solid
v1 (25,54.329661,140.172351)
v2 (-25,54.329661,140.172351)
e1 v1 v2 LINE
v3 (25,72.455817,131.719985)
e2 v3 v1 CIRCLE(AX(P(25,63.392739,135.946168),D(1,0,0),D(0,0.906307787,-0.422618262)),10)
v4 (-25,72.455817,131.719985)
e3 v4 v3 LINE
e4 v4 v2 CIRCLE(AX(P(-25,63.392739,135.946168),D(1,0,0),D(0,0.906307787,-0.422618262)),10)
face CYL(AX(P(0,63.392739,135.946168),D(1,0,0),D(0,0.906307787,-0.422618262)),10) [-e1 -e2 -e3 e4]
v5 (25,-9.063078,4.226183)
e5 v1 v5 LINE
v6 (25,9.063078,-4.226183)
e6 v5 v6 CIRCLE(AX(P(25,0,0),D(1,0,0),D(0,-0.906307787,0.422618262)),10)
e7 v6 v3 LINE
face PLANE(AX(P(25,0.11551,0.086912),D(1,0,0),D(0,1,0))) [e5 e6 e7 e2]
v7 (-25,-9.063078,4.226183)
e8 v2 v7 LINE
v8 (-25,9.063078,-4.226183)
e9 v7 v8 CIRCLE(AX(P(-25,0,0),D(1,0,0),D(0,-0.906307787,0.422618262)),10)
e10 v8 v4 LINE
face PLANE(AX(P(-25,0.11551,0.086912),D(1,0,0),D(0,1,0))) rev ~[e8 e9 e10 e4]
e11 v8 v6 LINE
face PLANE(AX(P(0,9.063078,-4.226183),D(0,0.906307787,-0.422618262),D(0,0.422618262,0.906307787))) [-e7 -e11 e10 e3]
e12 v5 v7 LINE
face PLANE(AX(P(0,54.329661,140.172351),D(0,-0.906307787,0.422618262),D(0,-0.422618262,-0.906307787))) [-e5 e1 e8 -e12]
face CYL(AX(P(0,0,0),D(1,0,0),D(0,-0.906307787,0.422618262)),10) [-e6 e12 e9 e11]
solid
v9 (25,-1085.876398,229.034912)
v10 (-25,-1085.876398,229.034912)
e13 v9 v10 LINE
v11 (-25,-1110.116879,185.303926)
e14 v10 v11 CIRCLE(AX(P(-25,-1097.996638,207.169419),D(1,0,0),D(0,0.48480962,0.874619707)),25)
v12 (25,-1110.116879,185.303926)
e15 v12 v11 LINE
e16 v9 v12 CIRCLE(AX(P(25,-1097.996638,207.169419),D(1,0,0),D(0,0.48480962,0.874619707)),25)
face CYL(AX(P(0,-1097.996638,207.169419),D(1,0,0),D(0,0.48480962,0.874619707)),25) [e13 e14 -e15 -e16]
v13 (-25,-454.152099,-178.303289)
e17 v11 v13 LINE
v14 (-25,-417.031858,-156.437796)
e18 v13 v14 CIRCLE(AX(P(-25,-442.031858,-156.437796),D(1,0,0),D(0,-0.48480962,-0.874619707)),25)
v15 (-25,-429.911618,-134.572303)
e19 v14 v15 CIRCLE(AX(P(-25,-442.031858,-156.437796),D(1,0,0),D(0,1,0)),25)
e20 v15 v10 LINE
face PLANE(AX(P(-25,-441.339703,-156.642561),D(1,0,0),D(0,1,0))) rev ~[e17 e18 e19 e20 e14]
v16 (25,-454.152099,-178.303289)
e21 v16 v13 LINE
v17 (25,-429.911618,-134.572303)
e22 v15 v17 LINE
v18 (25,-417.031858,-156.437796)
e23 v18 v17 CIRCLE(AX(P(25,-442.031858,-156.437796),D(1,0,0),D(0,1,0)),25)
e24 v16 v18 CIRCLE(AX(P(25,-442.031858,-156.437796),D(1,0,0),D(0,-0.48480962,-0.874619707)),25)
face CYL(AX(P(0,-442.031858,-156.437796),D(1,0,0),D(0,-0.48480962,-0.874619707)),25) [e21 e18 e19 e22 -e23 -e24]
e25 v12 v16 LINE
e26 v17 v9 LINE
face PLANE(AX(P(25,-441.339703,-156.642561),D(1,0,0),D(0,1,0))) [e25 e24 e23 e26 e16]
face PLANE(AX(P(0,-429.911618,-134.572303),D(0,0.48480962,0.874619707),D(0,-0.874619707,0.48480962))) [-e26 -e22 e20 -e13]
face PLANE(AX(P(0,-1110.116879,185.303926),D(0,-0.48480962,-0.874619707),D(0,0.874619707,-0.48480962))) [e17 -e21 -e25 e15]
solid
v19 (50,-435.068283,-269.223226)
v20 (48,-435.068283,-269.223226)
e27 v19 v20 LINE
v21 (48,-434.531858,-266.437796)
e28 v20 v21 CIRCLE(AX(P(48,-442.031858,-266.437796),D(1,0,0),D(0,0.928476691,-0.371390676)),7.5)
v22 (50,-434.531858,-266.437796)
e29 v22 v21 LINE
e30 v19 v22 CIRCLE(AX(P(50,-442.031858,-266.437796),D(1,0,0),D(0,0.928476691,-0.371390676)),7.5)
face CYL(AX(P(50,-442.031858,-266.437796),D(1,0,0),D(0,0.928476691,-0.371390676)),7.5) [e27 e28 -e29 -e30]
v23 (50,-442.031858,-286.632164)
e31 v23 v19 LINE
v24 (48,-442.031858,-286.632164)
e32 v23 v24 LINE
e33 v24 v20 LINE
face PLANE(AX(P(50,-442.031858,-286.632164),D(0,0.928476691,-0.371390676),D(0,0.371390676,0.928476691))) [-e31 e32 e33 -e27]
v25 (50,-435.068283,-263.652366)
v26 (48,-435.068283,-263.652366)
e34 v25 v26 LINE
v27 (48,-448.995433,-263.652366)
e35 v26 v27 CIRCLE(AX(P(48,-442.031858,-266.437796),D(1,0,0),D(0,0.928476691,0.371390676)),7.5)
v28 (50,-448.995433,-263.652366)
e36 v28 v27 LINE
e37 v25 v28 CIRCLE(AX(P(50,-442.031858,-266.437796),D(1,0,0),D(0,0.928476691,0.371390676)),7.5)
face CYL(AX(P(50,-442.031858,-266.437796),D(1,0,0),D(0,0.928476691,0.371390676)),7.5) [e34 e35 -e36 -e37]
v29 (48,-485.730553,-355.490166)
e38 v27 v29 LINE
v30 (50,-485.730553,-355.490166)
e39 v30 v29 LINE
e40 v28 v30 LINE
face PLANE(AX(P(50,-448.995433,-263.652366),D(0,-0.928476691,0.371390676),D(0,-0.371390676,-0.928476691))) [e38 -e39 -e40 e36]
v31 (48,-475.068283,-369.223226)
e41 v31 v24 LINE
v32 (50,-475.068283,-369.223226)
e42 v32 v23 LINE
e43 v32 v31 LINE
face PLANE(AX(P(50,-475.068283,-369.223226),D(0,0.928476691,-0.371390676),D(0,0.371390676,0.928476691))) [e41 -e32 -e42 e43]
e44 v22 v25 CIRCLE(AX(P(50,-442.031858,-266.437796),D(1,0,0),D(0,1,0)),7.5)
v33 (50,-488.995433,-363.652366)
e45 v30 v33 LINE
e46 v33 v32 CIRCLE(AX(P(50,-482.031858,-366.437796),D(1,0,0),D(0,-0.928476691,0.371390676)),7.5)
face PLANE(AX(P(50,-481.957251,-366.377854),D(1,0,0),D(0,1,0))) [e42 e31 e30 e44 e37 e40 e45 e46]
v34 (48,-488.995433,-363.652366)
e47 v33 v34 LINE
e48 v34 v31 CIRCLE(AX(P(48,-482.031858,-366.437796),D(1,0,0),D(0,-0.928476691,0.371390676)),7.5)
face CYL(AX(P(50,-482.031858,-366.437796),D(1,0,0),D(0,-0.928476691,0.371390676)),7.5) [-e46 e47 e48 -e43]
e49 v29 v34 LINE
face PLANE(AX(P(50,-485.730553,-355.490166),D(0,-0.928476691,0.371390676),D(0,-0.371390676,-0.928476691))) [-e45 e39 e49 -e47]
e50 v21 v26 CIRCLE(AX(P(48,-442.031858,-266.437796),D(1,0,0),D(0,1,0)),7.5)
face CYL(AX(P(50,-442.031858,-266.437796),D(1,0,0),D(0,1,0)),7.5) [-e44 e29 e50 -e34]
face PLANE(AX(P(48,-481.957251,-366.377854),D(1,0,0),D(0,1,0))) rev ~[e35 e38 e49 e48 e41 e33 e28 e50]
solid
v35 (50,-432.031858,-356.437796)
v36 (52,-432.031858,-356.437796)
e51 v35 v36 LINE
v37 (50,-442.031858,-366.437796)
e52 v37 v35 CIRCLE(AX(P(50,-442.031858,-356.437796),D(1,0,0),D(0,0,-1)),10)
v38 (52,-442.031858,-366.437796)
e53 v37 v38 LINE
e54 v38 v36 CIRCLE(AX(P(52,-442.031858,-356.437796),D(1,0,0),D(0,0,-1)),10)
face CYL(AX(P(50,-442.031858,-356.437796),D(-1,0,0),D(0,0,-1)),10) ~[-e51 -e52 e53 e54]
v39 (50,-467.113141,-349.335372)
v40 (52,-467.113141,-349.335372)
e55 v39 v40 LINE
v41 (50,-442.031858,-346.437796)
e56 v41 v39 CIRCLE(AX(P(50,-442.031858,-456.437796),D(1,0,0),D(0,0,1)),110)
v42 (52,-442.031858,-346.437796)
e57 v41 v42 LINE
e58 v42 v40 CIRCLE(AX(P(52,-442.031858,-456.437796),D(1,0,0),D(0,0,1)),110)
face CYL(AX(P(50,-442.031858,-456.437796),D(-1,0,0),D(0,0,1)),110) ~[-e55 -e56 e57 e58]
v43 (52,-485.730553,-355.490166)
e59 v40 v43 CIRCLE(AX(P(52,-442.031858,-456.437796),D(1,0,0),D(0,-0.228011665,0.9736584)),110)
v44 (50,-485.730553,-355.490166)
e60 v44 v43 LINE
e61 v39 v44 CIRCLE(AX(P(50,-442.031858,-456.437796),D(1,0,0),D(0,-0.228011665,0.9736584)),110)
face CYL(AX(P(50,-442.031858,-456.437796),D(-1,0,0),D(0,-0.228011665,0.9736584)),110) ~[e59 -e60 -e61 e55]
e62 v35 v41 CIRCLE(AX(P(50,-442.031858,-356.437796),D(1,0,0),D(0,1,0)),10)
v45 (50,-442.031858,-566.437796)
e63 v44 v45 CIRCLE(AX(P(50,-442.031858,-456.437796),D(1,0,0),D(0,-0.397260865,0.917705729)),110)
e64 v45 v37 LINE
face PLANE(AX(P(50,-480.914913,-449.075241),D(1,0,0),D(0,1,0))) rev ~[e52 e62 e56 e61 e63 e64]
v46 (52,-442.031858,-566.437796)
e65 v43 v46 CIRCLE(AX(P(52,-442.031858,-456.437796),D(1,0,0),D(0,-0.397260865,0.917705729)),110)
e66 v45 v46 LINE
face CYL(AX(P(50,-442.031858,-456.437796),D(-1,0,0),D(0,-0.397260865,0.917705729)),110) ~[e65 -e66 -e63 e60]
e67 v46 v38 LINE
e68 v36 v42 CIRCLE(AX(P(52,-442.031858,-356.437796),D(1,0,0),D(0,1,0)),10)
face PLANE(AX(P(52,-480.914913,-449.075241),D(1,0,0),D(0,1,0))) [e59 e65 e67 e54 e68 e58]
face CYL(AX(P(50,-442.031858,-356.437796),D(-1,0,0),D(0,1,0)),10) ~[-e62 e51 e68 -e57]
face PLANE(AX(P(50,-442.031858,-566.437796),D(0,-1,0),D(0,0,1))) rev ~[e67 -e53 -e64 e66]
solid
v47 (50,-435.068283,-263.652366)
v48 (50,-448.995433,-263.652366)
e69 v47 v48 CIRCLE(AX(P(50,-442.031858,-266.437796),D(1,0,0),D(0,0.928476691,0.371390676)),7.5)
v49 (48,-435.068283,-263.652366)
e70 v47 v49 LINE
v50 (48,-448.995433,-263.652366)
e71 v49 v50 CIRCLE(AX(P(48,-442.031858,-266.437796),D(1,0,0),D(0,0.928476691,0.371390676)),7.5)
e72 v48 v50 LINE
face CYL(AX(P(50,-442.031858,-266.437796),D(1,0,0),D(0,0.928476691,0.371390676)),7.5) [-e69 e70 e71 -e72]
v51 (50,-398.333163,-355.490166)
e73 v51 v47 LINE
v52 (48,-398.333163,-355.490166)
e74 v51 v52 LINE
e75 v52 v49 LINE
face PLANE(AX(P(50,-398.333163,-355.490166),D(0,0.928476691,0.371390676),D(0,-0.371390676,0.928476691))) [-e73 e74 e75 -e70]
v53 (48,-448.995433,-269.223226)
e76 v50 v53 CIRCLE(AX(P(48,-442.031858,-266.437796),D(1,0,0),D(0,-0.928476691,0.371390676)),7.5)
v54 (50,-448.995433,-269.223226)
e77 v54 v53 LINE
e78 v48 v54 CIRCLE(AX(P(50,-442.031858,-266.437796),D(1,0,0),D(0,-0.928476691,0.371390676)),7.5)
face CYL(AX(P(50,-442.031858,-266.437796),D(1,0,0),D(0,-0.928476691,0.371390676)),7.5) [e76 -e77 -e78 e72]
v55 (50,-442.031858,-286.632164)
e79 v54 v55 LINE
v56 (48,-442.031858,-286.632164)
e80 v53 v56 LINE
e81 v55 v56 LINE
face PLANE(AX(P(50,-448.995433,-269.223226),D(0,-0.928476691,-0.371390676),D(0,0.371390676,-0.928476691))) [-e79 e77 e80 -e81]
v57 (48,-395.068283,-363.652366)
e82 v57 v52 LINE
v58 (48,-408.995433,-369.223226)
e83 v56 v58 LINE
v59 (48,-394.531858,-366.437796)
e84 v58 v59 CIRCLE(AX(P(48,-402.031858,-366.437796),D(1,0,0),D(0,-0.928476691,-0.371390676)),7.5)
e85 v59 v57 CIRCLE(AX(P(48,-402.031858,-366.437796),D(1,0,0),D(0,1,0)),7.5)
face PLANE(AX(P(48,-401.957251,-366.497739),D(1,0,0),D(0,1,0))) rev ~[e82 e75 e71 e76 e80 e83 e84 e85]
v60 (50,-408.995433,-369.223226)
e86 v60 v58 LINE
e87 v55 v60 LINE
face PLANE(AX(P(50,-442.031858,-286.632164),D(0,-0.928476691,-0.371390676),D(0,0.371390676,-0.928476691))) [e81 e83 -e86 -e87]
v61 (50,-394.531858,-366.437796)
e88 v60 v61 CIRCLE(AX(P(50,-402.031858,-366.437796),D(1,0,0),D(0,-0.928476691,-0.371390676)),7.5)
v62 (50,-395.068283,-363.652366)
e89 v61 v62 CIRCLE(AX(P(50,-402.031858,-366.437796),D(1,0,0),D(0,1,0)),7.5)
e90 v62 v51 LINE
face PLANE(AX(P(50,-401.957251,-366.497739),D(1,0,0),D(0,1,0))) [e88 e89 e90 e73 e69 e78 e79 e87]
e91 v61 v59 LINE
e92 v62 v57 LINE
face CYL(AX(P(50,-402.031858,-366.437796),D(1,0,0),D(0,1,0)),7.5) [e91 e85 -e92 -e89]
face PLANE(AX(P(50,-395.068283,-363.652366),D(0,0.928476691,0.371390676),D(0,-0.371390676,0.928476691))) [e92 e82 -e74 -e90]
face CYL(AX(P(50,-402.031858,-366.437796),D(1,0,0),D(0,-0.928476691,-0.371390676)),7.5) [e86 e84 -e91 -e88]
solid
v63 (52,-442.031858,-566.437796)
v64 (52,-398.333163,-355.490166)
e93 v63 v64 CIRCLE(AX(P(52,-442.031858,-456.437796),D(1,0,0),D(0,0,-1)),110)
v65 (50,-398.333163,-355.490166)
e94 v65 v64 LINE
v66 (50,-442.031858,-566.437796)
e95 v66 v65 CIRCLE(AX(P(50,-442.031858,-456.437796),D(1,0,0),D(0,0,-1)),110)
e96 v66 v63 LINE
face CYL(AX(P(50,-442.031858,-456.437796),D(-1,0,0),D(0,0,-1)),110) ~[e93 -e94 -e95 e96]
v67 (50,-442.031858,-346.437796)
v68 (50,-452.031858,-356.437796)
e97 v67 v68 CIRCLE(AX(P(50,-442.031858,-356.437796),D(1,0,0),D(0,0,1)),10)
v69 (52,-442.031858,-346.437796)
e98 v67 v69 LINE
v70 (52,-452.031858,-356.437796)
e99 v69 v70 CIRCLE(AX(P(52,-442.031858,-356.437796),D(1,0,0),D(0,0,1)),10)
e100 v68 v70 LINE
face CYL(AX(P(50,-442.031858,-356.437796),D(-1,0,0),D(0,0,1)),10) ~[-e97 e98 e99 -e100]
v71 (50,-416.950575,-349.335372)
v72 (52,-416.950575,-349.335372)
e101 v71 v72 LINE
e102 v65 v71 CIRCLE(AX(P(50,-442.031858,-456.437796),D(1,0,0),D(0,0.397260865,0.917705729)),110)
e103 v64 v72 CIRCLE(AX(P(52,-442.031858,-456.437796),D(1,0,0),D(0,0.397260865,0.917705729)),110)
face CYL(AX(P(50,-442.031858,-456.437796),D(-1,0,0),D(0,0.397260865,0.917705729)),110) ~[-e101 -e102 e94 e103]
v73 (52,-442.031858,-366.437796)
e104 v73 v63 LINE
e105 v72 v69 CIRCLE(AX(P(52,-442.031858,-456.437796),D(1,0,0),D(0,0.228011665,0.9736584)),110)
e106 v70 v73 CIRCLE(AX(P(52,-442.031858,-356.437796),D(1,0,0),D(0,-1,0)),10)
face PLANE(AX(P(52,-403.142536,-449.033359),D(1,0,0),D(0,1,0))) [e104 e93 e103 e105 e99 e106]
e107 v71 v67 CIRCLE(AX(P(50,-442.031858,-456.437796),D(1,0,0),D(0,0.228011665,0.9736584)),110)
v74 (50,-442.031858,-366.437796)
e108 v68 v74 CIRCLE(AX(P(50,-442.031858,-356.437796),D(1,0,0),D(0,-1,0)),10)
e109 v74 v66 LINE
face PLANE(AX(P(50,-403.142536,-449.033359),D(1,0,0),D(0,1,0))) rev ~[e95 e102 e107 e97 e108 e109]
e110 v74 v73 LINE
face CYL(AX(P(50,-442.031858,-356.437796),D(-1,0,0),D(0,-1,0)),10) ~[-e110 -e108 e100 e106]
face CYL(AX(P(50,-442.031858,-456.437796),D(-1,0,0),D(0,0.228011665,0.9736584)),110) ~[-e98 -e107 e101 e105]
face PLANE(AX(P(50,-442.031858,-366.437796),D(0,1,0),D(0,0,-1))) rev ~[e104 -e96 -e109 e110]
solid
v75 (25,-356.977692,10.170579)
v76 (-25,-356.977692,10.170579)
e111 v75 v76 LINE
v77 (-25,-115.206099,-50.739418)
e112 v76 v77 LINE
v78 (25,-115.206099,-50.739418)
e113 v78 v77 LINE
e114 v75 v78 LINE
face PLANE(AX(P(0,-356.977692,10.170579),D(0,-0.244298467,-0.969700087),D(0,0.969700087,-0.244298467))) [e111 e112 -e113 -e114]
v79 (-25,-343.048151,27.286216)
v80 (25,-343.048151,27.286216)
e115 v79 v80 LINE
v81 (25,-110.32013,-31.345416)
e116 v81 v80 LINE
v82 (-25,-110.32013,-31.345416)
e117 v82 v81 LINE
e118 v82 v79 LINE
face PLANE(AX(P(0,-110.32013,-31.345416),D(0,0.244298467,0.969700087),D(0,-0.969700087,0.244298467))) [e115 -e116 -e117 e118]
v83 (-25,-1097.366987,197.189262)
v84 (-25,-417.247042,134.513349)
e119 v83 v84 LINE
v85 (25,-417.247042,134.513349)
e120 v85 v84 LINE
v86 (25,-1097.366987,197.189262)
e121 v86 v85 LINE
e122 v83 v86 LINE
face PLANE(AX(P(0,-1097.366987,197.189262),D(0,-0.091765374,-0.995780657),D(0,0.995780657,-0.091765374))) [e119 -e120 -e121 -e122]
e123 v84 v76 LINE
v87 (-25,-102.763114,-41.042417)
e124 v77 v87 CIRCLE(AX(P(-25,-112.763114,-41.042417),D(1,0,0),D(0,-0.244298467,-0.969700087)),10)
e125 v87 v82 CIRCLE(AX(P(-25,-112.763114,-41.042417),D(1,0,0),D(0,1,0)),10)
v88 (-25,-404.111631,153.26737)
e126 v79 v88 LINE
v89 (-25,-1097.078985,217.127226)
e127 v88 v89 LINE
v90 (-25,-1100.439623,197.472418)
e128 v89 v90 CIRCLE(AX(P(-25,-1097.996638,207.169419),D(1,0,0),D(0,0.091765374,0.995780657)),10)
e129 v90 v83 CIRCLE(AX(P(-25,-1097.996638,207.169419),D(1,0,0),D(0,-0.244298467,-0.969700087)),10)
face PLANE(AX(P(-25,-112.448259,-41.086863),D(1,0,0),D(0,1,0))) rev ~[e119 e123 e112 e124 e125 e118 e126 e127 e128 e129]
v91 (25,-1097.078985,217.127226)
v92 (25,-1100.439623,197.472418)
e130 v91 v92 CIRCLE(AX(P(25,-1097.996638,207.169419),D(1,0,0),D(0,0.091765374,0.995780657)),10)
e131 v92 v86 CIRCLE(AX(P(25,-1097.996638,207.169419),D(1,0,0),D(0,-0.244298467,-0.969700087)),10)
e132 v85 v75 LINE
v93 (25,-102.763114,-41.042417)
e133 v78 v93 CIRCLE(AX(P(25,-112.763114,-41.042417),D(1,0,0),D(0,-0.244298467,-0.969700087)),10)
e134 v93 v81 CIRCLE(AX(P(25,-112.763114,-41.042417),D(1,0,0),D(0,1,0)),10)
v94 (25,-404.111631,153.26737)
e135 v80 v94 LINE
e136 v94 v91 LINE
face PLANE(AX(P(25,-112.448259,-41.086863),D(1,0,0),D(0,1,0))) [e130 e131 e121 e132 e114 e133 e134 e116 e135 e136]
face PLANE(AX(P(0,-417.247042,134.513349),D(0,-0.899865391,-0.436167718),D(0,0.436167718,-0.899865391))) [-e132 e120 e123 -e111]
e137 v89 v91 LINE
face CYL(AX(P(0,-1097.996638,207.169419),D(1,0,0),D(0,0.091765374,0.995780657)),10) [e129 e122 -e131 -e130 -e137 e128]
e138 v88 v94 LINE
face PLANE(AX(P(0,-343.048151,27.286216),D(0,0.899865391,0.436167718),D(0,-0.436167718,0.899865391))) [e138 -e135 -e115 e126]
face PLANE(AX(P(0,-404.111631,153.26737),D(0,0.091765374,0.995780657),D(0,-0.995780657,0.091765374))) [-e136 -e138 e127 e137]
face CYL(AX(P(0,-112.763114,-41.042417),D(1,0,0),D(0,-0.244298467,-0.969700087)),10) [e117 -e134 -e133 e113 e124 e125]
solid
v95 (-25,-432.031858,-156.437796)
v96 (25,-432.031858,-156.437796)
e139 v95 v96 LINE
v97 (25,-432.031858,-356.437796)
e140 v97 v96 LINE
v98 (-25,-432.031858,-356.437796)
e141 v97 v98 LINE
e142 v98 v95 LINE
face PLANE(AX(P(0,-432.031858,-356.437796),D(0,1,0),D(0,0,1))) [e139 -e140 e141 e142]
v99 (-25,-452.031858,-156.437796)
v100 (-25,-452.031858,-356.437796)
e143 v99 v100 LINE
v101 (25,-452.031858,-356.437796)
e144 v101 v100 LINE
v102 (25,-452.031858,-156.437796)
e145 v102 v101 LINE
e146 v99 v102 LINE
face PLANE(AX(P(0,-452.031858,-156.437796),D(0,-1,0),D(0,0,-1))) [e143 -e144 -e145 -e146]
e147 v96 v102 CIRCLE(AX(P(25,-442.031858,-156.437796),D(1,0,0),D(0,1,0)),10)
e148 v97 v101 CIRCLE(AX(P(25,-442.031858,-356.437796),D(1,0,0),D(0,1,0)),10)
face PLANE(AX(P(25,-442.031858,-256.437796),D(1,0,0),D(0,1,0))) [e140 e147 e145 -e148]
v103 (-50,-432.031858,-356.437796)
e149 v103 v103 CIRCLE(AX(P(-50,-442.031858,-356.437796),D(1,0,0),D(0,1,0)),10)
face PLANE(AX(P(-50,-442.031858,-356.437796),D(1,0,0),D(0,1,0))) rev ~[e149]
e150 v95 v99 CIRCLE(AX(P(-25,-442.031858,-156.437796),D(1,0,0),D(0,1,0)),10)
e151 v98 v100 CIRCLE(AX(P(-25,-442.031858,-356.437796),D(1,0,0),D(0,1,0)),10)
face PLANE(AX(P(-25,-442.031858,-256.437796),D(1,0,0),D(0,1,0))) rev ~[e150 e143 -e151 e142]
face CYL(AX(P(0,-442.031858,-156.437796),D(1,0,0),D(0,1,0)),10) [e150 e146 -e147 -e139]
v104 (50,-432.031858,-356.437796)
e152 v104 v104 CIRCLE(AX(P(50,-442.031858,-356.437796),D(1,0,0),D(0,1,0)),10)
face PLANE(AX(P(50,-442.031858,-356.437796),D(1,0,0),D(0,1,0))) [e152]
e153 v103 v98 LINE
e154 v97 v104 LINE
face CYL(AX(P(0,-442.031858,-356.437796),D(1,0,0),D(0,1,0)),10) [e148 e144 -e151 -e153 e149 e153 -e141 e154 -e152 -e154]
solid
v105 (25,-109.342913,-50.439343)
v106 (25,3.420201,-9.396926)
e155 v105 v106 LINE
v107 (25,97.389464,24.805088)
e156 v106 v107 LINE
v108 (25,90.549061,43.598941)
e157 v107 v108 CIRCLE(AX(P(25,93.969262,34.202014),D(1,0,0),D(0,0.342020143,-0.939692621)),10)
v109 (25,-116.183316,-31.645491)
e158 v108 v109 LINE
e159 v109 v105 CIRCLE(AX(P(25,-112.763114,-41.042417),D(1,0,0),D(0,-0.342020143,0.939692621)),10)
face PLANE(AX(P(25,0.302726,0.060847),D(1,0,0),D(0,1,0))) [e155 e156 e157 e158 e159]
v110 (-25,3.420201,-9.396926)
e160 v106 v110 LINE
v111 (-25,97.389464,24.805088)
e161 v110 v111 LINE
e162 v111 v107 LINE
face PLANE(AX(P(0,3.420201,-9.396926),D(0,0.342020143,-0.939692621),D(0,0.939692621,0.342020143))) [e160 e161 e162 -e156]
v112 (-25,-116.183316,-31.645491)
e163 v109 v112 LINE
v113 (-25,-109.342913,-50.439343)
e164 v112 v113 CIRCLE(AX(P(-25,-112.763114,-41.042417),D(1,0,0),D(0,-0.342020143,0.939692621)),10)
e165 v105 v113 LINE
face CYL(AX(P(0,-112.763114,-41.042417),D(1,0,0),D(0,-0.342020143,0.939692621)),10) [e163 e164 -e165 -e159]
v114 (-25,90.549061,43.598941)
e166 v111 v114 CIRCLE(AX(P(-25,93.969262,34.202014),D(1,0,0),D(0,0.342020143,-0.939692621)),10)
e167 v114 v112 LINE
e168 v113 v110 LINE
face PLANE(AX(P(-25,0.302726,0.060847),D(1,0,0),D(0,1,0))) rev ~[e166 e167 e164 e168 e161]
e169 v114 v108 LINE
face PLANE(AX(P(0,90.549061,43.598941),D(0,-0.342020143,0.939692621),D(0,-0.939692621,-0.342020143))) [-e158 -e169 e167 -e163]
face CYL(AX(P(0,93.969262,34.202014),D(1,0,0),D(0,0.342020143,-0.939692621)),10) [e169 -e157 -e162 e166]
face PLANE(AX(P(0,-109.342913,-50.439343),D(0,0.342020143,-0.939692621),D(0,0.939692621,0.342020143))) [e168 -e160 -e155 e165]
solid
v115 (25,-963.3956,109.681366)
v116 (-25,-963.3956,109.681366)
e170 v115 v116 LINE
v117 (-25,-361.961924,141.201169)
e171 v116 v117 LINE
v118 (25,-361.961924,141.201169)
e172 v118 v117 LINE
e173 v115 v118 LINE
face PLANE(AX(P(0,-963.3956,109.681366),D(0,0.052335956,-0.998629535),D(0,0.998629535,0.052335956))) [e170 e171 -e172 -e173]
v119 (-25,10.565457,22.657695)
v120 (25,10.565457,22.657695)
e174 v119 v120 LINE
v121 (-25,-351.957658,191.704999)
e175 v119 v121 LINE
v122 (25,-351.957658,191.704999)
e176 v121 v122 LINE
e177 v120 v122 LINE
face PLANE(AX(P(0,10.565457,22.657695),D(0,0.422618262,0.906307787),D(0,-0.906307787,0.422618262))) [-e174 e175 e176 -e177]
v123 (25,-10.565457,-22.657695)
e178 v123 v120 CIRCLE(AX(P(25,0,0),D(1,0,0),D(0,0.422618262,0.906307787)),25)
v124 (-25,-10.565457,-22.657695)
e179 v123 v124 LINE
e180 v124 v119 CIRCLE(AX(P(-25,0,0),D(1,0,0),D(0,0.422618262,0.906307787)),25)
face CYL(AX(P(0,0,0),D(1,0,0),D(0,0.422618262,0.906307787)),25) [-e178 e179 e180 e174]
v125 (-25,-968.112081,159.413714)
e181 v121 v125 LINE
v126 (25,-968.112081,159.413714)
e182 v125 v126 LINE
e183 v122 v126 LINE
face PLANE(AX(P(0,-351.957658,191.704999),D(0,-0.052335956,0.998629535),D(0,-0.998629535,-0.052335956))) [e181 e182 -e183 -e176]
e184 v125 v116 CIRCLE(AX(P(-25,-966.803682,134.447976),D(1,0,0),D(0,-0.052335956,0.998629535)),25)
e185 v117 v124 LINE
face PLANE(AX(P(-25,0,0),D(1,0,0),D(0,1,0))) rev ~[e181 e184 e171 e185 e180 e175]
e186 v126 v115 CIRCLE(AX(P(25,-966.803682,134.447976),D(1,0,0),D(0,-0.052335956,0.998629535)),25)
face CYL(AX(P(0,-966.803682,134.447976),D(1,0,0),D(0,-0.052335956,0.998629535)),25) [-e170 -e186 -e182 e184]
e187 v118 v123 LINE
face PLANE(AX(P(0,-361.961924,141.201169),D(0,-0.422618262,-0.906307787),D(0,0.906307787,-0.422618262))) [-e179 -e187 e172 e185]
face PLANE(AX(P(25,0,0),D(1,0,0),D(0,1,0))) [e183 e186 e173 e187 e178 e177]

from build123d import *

# Parameters (mm, degrees)
F4_DEPTH  = 25
F5_DEPTH  = 25
F6_DEPTH  = 25
F7_DEPTH  = 25
F9_DEPTH  = 25
F11_DEPTH = 25
F12_DEPTH = 50
F14_DEPTH = 2
F15_DEPTH = 2
F16_DEPTH = 2
F17_DEPTH = 2


with BuildPart() as f4:
    # F0 (on Right) → F4 (new body, symmetric)
    with BuildSketch(Plane.YZ):
        with BuildLine():
            ThreePointArc((-10.5654565435, -22.6576946759), (13.4324902087, -21.0847861453), (25, 0))
            ThreePointArc((25, 0), (21.0847861453, 13.4324902087), (10.5654565435, 22.6576946759))
            ThreePointArc((10.5654565435, 22.6576946759), (-22.6576946759, 10.5654565435), (-10.5654565435, -22.6576946759))
        make_face()
        with BuildLine():
            ThreePointArc((-10.5654565435, -22.6576946759), (-22.6576946759, 10.5654565435), (10.5654565435, 22.6576946759))
            Line((10.5654565435, 22.6576946759), (-351.9576582711, 191.7049993722))
            Line((-351.9576582711, 191.7049993722), (-361.9619242348, 141.2011692572))
            Line((-361.9619242348, 141.2011692572), (-10.5654565435, -22.6576946759))
        make_face()
        with BuildLine():
            Line((-361.9619242348, 141.2011692572), (-351.9576582711, 191.7049993722))
            Line((-351.9576582711, 191.7049993722), (-968.1120812147, 159.4137143703))
            ThreePointArc((-968.1120812147, 159.4137143703), (-991.6920086499, 132.0876345158), (-963.3955999376, 109.6813659275))
            Line((-963.3955999376, 109.6813659275), (-361.9619242348, 141.2011692572))
        make_face()
    extrude(amount=F4_DEPTH, both=True)


with BuildPart() as f5:
    # F1 (on Right) → F5 (new body, symmetric)
    with BuildSketch(Plane.YZ):
        with BuildLine():
            ThreePointArc((-454.1520985312, -178.3032888249), (-429.343398951, -177.9785251574), (-417.031858025, -156.4377961464))
            ThreePointArc((-417.031858025, -156.4377961464), (-420.491129014, -143.7493370723), (-429.9116175188, -134.5723034679))
            ThreePointArc((-429.9116175188, -134.5723034679), (-463.8973507035, -144.3175556402), (-454.1520985312, -178.3032888249))
        make_face()
        with BuildLine():
            ThreePointArc((-454.1520985312, -178.3032888249), (-463.8973507035, -144.3175556402), (-429.9116175188, -134.5723034679))
            Line((-429.9116175188, -134.5723034679), (-954.6834418025, 156.3134686799))
            ThreePointArc((-954.6834418025, 156.3134686799), (-945.2629532976, 147.1364350755), (-941.8036823086, 134.4479760014))
            ThreePointArc((-941.8036823086, 134.4479760014), (-954.1152232346, 112.9072469904), (-978.9239228148, 112.582483323))
            Line((-978.9239228148, 112.582483323), (-454.1520985312, -178.3032888249))
        make_face()
        with BuildLine():
            ThreePointArc((-978.9239228148, 112.582483323), (-988.6691749871, 146.5682165076), (-954.6834418025, 156.3134686799))
            Line((-954.6834418025, 156.3134686799), (-1085.8763978734, 229.0349117169))
            ThreePointArc((-1085.8763978734, 229.0349117169), (-1119.862131058, 219.2896595445), (-1110.1168788857, 185.3039263599))
            Line((-1110.1168788857, 185.3039263599), (-978.9239228148, 112.582483323))
        make_face()
        with BuildLine():
            ThreePointArc((-941.8036823086, 134.4479760014), (-945.2629532976, 147.1364350755), (-954.6834418025, 156.3134686799))
            ThreePointArc((-954.6834418025, 156.3134686799), (-988.6691749871, 146.5682165076), (-978.9239228148, 112.582483323))
            ThreePointArc((-978.9239228148, 112.582483323), (-954.1152232346, 112.9072469904), (-941.8036823086, 134.4479760014))
        make_face()
    extrude(amount=F5_DEPTH, both=True)


with BuildPart() as f6:
    # F2 (on Right) → F6 (new body, symmetric)
    with BuildSketch(Plane.YZ):
        with BuildLine():
            ThreePointArc((3.4202014333, -9.3969262079), (8.1915204429, -5.7357643635), (10, 0))
            ThreePointArc((10, 0), (5.7357643635, 8.1915204429), (-3.4202014333, 9.3969262079))
            ThreePointArc((-3.4202014333, 9.3969262079), (-9.3969262079, -3.4202014333), (3.4202014333, -9.3969262079))
        make_face()
        with BuildLine():
            ThreePointArc((-3.4202014333, 9.3969262079), (5.7357643635, 8.1915204429), (10, 0))
            ThreePointArc((10, 0), (8.1915204429, -5.7357643635), (3.4202014333, -9.3969262079))
            Line((3.4202014333, -9.3969262079), (97.3894635118, 24.8050881247))
            ThreePointArc((97.3894635118, 24.8050881247), (103.3661882864, 37.6222157658), (90.5490606453, 43.5989405404))
            Line((90.5490606453, 43.5989405404), (-3.4202014333, 9.3969262079))
        make_face()
        with BuildLine():
            ThreePointArc((3.4202014333, -9.3969262079), (-9.3969262079, -3.4202014333), (-3.4202014333, 9.3969262079))
            Line((-3.4202014333, 9.3969262079), (-116.1833159276, -31.6454909912))
            ThreePointArc((-116.1833159276, -31.6454909912), (-122.1600407022, -44.4626186323), (-109.3429130611, -50.4393434069))
            Line((-109.3429130611, -50.4393434069), (3.4202014333, -9.3969262079))
        make_face()
    extrude(amount=F6_DEPTH, both=True)


with BuildPart() as f7:
    # F3 (on Right) → F7 (new body, symmetric)
    with BuildSketch(Plane.YZ):
        with BuildLine():
            ThreePointArc((-115.2060991615, -50.7394180713), (-106.6161577949, -48.9300609116), (-102.7631144943, -41.0424171991))
            ThreePointArc((-102.7631144943, -41.0424171991), (-104.8754707818, -34.8954604997), (-110.3201298271, -31.3454163269))
            ThreePointArc((-110.3201298271, -31.3454163269), (-122.4601153665, -38.5994325319), (-115.2060991615, -50.7394180713))
        make_face()
        with BuildLine():
            ThreePointArc((-115.2060991615, -50.7394180713), (-122.4601153665, -38.5994325319), (-110.3201298271, -31.3454163269))
            Line((-110.3201298271, -31.3454163269), (-343.0481507602, 27.2862156865))
            Line((-343.0481507602, 27.2862156865), (-404.1116313197, 153.2673703961))
            Line((-404.1116313197, 153.2673703961), (-1097.0789846366, 217.1272256045))
            ThreePointArc((-1097.0789846366, 217.1272256045), (-1090.6082509564, 213.9082417312), (-1087.9966383796, 207.1694190384))
            ThreePointArc((-1087.9966383796, 207.1694190384), (-1090.7063531266, 200.3245858826), (-1097.3669865658, 197.1892617955))
            Line((-1097.3669865658, 197.1892617955), (-417.2470419466, 134.5133493158))
            Line((-417.2470419466, 134.5133493158), (-356.9776916303, 10.1705788603))
            Line((-356.9776916303, 10.1705788603), (-115.2060991615, -50.7394180713))
        make_face()
        with BuildLine():
            ThreePointArc((-1087.9966383796, 207.1694190384), (-1090.6082509564, 213.9082417312), (-1097.0789846366, 217.1272256045))
            ThreePointArc((-1097.0789846366, 217.1272256045), (-1107.8535913807, 208.8547906691), (-1100.4396230468, 197.4724181662))
            Line((-1100.4396230468, 197.4724181662), (-1097.3669865658, 197.1892617955))
            ThreePointArc((-1097.3669865658, 197.1892617955), (-1090.7063531266, 200.3245858826), (-1087.9966383796, 207.1694190384))
        make_face()
        with BuildLine():
            ThreePointArc((-1100.4396230468, 197.4724181662), (-1098.9142921225, 197.2116124723), (-1097.3669865658, 197.1892617955))
            Line((-1097.3669865658, 197.1892617955), (-1100.4396230468, 197.4724181662))
        make_face()
    extrude(amount=F7_DEPTH, both=True)


with BuildPart() as f9:
    # F8 (on Right) → F9 (new body, symmetric)
    with BuildSketch(Plane.YZ):
        with BuildLine():
            ThreePointArc((9.0630778704, -4.2261826174), (9.7629600712, -2.1643961394), (10, 0))
            ThreePointArc((10, 0), (2.1643961394, 9.7629600712), (-9.0630778704, 4.2261826174))
            ThreePointArc((-9.0630778704, 4.2261826174), (-4.2261826174, -9.0630778704), (9.0630778704, -4.2261826174))
        make_face()
        with BuildLine():
            ThreePointArc((-9.0630778704, 4.2261826174), (2.1643961394, 9.7629600712), (10, 0))
            ThreePointArc((10, 0), (9.7629600712, -2.1643961394), (9.0630778704, -4.2261826174))
            Line((9.0630778704, -4.2261826174), (72.4558171315, 131.7199854381))
            ThreePointArc((72.4558171315, 131.7199854381), (67.6189218785, 145.0092459259), (54.3296613907, 140.1723506729))
            Line((54.3296613907, 140.1723506729), (-9.0630778704, 4.2261826174))
        make_face()
    extrude(amount=F9_DEPTH, both=True)


with BuildPart() as f11:
    # F10 (on Right) → F11 (new body, symmetric)
    with BuildSketch(Plane.YZ):
        with BuildLine():
            Line((-432.031858025, -356.4377961464), (-432.031858025, -156.4377961464))
            ThreePointArc((-432.031858025, -156.4377961464), (-442.031858025, -166.4377961464), (-452.031858025, -156.4377961464))
            Line((-452.031858025, -156.4377961464), (-452.031858025, -356.4377961464))
            ThreePointArc((-452.031858025, -356.4377961464), (-442.031858025, -346.4377961464), (-432.031858025, -356.4377961464))
        make_face()
        with BuildLine():
            ThreePointArc((-452.031858025, -356.4377961464), (-442.031858025, -366.4377961464), (-432.031858025, -356.4377961464))
            ThreePointArc((-432.031858025, -356.4377961464), (-442.031858025, -346.4377961464), (-452.031858025, -356.4377961464))
        make_face()
        with BuildLine():
            ThreePointArc((-452.031858025, -156.4377961464), (-442.031858025, -166.4377961464), (-432.031858025, -156.4377961464))
            ThreePointArc((-432.031858025, -156.4377961464), (-442.031858025, -146.4377961464), (-452.031858025, -156.4377961464))
        make_face()
    extrude(amount=F11_DEPTH, both=True)

    # F10 (on Right) → F12 (join, symmetric)
    with BuildSketch(Plane.YZ):
        with BuildLine():
            ThreePointArc((-452.031858025, -356.4377961464), (-442.031858025, -366.4377961464), (-432.031858025, -356.4377961464))
            ThreePointArc((-432.031858025, -356.4377961464), (-442.031858025, -346.4377961464), (-452.031858025, -356.4377961464))
        make_face()
    extrude(amount=F12_DEPTH, both=True)


with BuildPart() as f14:
    # F13 (on face) → F14 (new body)
    with BuildSketch(Plane.YZ.offset(50)):
        with BuildLine():
            ThreePointArc((-452.031858025, -356.4377961464), (-449.1029258369, -349.3667283345), (-442.031858025, -346.4377961464))
            ThreePointArc((-442.031858025, -346.4377961464), (-454.6559095951, -347.1645911876), (-467.1131412001, -349.3353721108))
            Line((-467.1131412001, -349.3353721108), (-475.0682828434, -369.223226219))
            ThreePointArc((-475.0682828434, -369.223226219), (-484.8172880977, -373.401371328), (-488.9954332066, -363.6523660737))
            Line((-488.9954332066, -363.6523660737), (-485.7305531536, -355.4901659411))
            ThreePointArc((-485.7305531536, -355.4901659411), (-549.7449939987, -478.7510285144), (-442.031858025, -566.4377961464))
            Line((-442.031858025, -566.4377961464), (-442.031858025, -366.4377961464))
            ThreePointArc((-442.031858025, -366.4377961464), (-449.1029258369, -363.5088639582), (-452.031858025, -356.4377961464))
        make_face()
        with BuildLine():
            ThreePointArc((-442.031858025, -366.4377961464), (-434.9607902131, -363.5088639582), (-432.031858025, -356.4377961464))
            ThreePointArc((-432.031858025, -356.4377961464), (-434.9607902131, -349.3667283345), (-442.031858025, -346.4377961464))
            ThreePointArc((-442.031858025, -346.4377961464), (-449.1029258369, -349.3667283345), (-452.031858025, -356.4377961464))
            ThreePointArc((-452.031858025, -356.4377961464), (-449.1029258369, -363.5088639582), (-442.031858025, -366.4377961464))
        make_face()
        with BuildLine():
            ThreePointArc((-488.9954332066, -363.6523660737), (-484.8172880977, -373.401371328), (-475.0682828434, -369.223226219))
            ThreePointArc((-475.0682828434, -369.223226219), (-474.6671851245, -367.856102555), (-474.531858025, -366.4377961464))
            ThreePointArc((-474.531858025, -366.4377961464), (-480.6135516163, -359.0731232459), (-488.9954332066, -363.6523660737))
        make_face()
        with BuildLine():
            Line((-475.0682828434, -369.223226219), (-467.1131412001, -349.3353721108))
            ThreePointArc((-467.1131412001, -349.3353721108), (-476.5592634537, -351.9971035292), (-485.7305531536, -355.4901659411))
            Line((-485.7305531536, -355.4901659411), (-488.9954332066, -363.6523660737))
            ThreePointArc((-488.9954332066, -363.6523660737), (-480.6135516163, -359.0731232459), (-474.531858025, -366.4377961464))
            ThreePointArc((-474.531858025, -366.4377961464), (-474.6671851245, -367.856102555), (-475.0682828434, -369.223226219))
        make_face()
    extrude(amount=F14_DEPTH)


with BuildPart() as f15:
    # F13 (on face) → F15 (new body)
    with BuildSketch(Plane.YZ.offset(50)):
        with BuildLine():
            ThreePointArc((-442.031858025, -346.4377961464), (-434.9607902131, -349.3667283345), (-432.031858025, -356.4377961464))
            ThreePointArc((-432.031858025, -356.4377961464), (-434.9607902131, -363.5088639582), (-442.031858025, -366.4377961464))
            Line((-442.031858025, -366.4377961464), (-442.031858025, -566.4377961464))
            ThreePointArc((-442.031858025, -566.4377961464), (-334.3187220513, -478.7510285144), (-398.3331628964, -355.4901659411))
            Line((-398.3331628964, -355.4901659411), (-395.0682828434, -363.6523660737))
            ThreePointArc((-395.0682828434, -363.6523660737), (-394.6671851245, -365.0194897377), (-394.531858025, -366.4377961464))
            ThreePointArc((-394.531858025, -366.4377961464), (-400.6135516163, -373.8024690469), (-408.9954332066, -369.223226219))
            Line((-408.9954332066, -369.223226219), (-416.9505748499, -349.3353721108))
            ThreePointArc((-416.9505748499, -349.3353721108), (-429.4078064549, -347.1645911876), (-442.031858025, -346.4377961464))
        make_face()
        with BuildLine():
            ThreePointArc((-442.031858025, -366.4377961464), (-434.9607902131, -363.5088639582), (-432.031858025, -356.4377961464))
            ThreePointArc((-432.031858025, -356.4377961464), (-434.9607902131, -349.3667283345), (-442.031858025, -346.4377961464))
            ThreePointArc((-442.031858025, -346.4377961464), (-449.1029258369, -349.3667283345), (-452.031858025, -356.4377961464))
            ThreePointArc((-452.031858025, -356.4377961464), (-449.1029258369, -363.5088639582), (-442.031858025, -366.4377961464))
        make_face()
        with BuildLine():
            ThreePointArc((-395.0682828434, -363.6523660737), (-404.8172880977, -359.4742209647), (-408.9954332066, -369.223226219))
            ThreePointArc((-408.9954332066, -369.223226219), (-400.6135516163, -373.8024690469), (-394.531858025, -366.4377961464))
            ThreePointArc((-394.531858025, -366.4377961464), (-394.6671851245, -365.0194897377), (-395.0682828434, -363.6523660737))
        make_face()
        with BuildLine():
            ThreePointArc((-398.3331628964, -355.4901659411), (-407.5044525963, -351.9971035292), (-416.9505748499, -349.3353721108))
            Line((-416.9505748499, -349.3353721108), (-408.9954332066, -369.223226219))
            ThreePointArc((-408.9954332066, -369.223226219), (-404.8172880977, -359.4742209647), (-395.0682828434, -363.6523660737))
            Line((-395.0682828434, -363.6523660737), (-398.3331628964, -355.4901659411))
        make_face()
    extrude(amount=F15_DEPTH)


with BuildPart() as f16:
    # F13 (on face) → F16 (new body)
    with BuildSketch(Plane.YZ.offset(50)):
        with BuildLine():
            ThreePointArc((-488.9954332066, -363.6523660737), (-484.8172880977, -373.401371328), (-475.0682828434, -369.223226219))
            ThreePointArc((-475.0682828434, -369.223226219), (-474.6671851245, -367.856102555), (-474.531858025, -366.4377961464))
            ThreePointArc((-474.531858025, -366.4377961464), (-480.6135516163, -359.0731232459), (-488.9954332066, -363.6523660737))
        make_face()
        with BuildLine():
            Line((-475.0682828434, -369.223226219), (-467.1131412001, -349.3353721108))
            ThreePointArc((-467.1131412001, -349.3353721108), (-476.5592634537, -351.9971035292), (-485.7305531536, -355.4901659411))
            Line((-485.7305531536, -355.4901659411), (-488.9954332066, -363.6523660737))
            ThreePointArc((-488.9954332066, -363.6523660737), (-480.6135516163, -359.0731232459), (-474.531858025, -366.4377961464))
            ThreePointArc((-474.531858025, -366.4377961464), (-474.6671851245, -367.856102555), (-475.0682828434, -369.223226219))
        make_face()
        with BuildLine():
            ThreePointArc((-485.7305531536, -355.4901659411), (-476.5592634537, -351.9971035292), (-467.1131412001, -349.3353721108))
            Line((-467.1131412001, -349.3353721108), (-442.031858025, -286.6321641731))
            Line((-442.031858025, -286.6321641731), (-448.9954332066, -269.223226219))
            ThreePointArc((-448.9954332066, -269.223226219), (-449.531858025, -266.4377961464), (-448.9954332066, -263.6523660737))
            Line((-448.9954332066, -263.6523660737), (-485.7305531536, -355.4901659411))
        make_face()
        with BuildLine():
            ThreePointArc((-434.531858025, -266.4377961464), (-434.6671851245, -265.0194897377), (-435.0682828434, -263.6523660737))
            ThreePointArc((-435.0682828434, -263.6523660737), (-442.031858025, -258.9377961464), (-448.9954332066, -263.6523660737))
            ThreePointArc((-448.9954332066, -263.6523660737), (-449.531858025, -266.4377961464), (-448.9954332066, -269.223226219))
            ThreePointArc((-448.9954332066, -269.223226219), (-442.031858025, -273.9377961464), (-435.0682828434, -269.223226219))
            ThreePointArc((-435.0682828434, -269.223226219), (-434.6671851245, -267.856102555), (-434.531858025, -266.4377961464))
        make_face()
        with BuildLine():
            Line((-448.9954332066, -269.223226219), (-442.031858025, -286.6321641731))
            Line((-442.031858025, -286.6321641731), (-435.0682828434, -269.223226219))
            ThreePointArc((-435.0682828434, -269.223226219), (-442.031858025, -273.9377961464), (-448.9954332066, -269.223226219))
        make_face()
    extrude(amount=-F16_DEPTH)


with BuildPart() as f17:
    # F13 (on face) → F17 (new body)
    with BuildSketch(Plane.YZ.offset(50)):
        with BuildLine():
            ThreePointArc((-395.0682828434, -363.6523660737), (-404.8172880977, -359.4742209647), (-408.9954332066, -369.223226219))
            ThreePointArc((-408.9954332066, -369.223226219), (-400.6135516163, -373.8024690469), (-394.531858025, -366.4377961464))
            ThreePointArc((-394.531858025, -366.4377961464), (-394.6671851245, -365.0194897377), (-395.0682828434, -363.6523660737))
        make_face()
        with BuildLine():
            Line((-442.031858025, -286.6321641731), (-416.9505748499, -349.3353721108))
            ThreePointArc((-416.9505748499, -349.3353721108), (-407.5044525963, -351.9971035292), (-398.3331628964, -355.4901659411))
            Line((-398.3331628964, -355.4901659411), (-435.0682828434, -263.6523660737))
            ThreePointArc((-435.0682828434, -263.6523660737), (-434.6671851245, -265.0194897377), (-434.531858025, -266.4377961464))
            ThreePointArc((-434.531858025, -266.4377961464), (-434.6671851245, -267.856102555), (-435.0682828434, -269.223226219))
            Line((-435.0682828434, -269.223226219), (-442.031858025, -286.6321641731))
        make_face()
        with BuildLine():
            ThreePointArc((-398.3331628964, -355.4901659411), (-407.5044525963, -351.9971035292), (-416.9505748499, -349.3353721108))
            Line((-416.9505748499, -349.3353721108), (-408.9954332066, -369.223226219))
            ThreePointArc((-408.9954332066, -369.223226219), (-404.8172880977, -359.4742209647), (-395.0682828434, -363.6523660737))
            Line((-395.0682828434, -363.6523660737), (-398.3331628964, -355.4901659411))
        make_face()
        with BuildLine():
            Line((-448.9954332066, -269.223226219), (-442.031858025, -286.6321641731))
            Line((-442.031858025, -286.6321641731), (-435.0682828434, -269.223226219))
            ThreePointArc((-435.0682828434, -269.223226219), (-442.031858025, -273.9377961464), (-448.9954332066, -269.223226219))
        make_face()
        with BuildLine():
            ThreePointArc((-434.531858025, -266.4377961464), (-434.6671851245, -265.0194897377), (-435.0682828434, -263.6523660737))
            ThreePointArc((-435.0682828434, -263.6523660737), (-442.031858025, -258.9377961464), (-448.9954332066, -263.6523660737))
            ThreePointArc((-448.9954332066, -263.6523660737), (-449.531858025, -266.4377961464), (-448.9954332066, -269.223226219))
            ThreePointArc((-448.9954332066, -269.223226219), (-442.031858025, -273.9377961464), (-435.0682828434, -269.223226219))
            ThreePointArc((-435.0682828434, -269.223226219), (-434.6671851245, -267.856102555), (-434.531858025, -266.4377961464))
        make_face()
    extrude(amount=-F17_DEPTH)


solid = Compound([f4.part, f5.part, f6.part, f7.part, f9.part, f11.part, f14.part, f15.part, f16.part, f17.part])
